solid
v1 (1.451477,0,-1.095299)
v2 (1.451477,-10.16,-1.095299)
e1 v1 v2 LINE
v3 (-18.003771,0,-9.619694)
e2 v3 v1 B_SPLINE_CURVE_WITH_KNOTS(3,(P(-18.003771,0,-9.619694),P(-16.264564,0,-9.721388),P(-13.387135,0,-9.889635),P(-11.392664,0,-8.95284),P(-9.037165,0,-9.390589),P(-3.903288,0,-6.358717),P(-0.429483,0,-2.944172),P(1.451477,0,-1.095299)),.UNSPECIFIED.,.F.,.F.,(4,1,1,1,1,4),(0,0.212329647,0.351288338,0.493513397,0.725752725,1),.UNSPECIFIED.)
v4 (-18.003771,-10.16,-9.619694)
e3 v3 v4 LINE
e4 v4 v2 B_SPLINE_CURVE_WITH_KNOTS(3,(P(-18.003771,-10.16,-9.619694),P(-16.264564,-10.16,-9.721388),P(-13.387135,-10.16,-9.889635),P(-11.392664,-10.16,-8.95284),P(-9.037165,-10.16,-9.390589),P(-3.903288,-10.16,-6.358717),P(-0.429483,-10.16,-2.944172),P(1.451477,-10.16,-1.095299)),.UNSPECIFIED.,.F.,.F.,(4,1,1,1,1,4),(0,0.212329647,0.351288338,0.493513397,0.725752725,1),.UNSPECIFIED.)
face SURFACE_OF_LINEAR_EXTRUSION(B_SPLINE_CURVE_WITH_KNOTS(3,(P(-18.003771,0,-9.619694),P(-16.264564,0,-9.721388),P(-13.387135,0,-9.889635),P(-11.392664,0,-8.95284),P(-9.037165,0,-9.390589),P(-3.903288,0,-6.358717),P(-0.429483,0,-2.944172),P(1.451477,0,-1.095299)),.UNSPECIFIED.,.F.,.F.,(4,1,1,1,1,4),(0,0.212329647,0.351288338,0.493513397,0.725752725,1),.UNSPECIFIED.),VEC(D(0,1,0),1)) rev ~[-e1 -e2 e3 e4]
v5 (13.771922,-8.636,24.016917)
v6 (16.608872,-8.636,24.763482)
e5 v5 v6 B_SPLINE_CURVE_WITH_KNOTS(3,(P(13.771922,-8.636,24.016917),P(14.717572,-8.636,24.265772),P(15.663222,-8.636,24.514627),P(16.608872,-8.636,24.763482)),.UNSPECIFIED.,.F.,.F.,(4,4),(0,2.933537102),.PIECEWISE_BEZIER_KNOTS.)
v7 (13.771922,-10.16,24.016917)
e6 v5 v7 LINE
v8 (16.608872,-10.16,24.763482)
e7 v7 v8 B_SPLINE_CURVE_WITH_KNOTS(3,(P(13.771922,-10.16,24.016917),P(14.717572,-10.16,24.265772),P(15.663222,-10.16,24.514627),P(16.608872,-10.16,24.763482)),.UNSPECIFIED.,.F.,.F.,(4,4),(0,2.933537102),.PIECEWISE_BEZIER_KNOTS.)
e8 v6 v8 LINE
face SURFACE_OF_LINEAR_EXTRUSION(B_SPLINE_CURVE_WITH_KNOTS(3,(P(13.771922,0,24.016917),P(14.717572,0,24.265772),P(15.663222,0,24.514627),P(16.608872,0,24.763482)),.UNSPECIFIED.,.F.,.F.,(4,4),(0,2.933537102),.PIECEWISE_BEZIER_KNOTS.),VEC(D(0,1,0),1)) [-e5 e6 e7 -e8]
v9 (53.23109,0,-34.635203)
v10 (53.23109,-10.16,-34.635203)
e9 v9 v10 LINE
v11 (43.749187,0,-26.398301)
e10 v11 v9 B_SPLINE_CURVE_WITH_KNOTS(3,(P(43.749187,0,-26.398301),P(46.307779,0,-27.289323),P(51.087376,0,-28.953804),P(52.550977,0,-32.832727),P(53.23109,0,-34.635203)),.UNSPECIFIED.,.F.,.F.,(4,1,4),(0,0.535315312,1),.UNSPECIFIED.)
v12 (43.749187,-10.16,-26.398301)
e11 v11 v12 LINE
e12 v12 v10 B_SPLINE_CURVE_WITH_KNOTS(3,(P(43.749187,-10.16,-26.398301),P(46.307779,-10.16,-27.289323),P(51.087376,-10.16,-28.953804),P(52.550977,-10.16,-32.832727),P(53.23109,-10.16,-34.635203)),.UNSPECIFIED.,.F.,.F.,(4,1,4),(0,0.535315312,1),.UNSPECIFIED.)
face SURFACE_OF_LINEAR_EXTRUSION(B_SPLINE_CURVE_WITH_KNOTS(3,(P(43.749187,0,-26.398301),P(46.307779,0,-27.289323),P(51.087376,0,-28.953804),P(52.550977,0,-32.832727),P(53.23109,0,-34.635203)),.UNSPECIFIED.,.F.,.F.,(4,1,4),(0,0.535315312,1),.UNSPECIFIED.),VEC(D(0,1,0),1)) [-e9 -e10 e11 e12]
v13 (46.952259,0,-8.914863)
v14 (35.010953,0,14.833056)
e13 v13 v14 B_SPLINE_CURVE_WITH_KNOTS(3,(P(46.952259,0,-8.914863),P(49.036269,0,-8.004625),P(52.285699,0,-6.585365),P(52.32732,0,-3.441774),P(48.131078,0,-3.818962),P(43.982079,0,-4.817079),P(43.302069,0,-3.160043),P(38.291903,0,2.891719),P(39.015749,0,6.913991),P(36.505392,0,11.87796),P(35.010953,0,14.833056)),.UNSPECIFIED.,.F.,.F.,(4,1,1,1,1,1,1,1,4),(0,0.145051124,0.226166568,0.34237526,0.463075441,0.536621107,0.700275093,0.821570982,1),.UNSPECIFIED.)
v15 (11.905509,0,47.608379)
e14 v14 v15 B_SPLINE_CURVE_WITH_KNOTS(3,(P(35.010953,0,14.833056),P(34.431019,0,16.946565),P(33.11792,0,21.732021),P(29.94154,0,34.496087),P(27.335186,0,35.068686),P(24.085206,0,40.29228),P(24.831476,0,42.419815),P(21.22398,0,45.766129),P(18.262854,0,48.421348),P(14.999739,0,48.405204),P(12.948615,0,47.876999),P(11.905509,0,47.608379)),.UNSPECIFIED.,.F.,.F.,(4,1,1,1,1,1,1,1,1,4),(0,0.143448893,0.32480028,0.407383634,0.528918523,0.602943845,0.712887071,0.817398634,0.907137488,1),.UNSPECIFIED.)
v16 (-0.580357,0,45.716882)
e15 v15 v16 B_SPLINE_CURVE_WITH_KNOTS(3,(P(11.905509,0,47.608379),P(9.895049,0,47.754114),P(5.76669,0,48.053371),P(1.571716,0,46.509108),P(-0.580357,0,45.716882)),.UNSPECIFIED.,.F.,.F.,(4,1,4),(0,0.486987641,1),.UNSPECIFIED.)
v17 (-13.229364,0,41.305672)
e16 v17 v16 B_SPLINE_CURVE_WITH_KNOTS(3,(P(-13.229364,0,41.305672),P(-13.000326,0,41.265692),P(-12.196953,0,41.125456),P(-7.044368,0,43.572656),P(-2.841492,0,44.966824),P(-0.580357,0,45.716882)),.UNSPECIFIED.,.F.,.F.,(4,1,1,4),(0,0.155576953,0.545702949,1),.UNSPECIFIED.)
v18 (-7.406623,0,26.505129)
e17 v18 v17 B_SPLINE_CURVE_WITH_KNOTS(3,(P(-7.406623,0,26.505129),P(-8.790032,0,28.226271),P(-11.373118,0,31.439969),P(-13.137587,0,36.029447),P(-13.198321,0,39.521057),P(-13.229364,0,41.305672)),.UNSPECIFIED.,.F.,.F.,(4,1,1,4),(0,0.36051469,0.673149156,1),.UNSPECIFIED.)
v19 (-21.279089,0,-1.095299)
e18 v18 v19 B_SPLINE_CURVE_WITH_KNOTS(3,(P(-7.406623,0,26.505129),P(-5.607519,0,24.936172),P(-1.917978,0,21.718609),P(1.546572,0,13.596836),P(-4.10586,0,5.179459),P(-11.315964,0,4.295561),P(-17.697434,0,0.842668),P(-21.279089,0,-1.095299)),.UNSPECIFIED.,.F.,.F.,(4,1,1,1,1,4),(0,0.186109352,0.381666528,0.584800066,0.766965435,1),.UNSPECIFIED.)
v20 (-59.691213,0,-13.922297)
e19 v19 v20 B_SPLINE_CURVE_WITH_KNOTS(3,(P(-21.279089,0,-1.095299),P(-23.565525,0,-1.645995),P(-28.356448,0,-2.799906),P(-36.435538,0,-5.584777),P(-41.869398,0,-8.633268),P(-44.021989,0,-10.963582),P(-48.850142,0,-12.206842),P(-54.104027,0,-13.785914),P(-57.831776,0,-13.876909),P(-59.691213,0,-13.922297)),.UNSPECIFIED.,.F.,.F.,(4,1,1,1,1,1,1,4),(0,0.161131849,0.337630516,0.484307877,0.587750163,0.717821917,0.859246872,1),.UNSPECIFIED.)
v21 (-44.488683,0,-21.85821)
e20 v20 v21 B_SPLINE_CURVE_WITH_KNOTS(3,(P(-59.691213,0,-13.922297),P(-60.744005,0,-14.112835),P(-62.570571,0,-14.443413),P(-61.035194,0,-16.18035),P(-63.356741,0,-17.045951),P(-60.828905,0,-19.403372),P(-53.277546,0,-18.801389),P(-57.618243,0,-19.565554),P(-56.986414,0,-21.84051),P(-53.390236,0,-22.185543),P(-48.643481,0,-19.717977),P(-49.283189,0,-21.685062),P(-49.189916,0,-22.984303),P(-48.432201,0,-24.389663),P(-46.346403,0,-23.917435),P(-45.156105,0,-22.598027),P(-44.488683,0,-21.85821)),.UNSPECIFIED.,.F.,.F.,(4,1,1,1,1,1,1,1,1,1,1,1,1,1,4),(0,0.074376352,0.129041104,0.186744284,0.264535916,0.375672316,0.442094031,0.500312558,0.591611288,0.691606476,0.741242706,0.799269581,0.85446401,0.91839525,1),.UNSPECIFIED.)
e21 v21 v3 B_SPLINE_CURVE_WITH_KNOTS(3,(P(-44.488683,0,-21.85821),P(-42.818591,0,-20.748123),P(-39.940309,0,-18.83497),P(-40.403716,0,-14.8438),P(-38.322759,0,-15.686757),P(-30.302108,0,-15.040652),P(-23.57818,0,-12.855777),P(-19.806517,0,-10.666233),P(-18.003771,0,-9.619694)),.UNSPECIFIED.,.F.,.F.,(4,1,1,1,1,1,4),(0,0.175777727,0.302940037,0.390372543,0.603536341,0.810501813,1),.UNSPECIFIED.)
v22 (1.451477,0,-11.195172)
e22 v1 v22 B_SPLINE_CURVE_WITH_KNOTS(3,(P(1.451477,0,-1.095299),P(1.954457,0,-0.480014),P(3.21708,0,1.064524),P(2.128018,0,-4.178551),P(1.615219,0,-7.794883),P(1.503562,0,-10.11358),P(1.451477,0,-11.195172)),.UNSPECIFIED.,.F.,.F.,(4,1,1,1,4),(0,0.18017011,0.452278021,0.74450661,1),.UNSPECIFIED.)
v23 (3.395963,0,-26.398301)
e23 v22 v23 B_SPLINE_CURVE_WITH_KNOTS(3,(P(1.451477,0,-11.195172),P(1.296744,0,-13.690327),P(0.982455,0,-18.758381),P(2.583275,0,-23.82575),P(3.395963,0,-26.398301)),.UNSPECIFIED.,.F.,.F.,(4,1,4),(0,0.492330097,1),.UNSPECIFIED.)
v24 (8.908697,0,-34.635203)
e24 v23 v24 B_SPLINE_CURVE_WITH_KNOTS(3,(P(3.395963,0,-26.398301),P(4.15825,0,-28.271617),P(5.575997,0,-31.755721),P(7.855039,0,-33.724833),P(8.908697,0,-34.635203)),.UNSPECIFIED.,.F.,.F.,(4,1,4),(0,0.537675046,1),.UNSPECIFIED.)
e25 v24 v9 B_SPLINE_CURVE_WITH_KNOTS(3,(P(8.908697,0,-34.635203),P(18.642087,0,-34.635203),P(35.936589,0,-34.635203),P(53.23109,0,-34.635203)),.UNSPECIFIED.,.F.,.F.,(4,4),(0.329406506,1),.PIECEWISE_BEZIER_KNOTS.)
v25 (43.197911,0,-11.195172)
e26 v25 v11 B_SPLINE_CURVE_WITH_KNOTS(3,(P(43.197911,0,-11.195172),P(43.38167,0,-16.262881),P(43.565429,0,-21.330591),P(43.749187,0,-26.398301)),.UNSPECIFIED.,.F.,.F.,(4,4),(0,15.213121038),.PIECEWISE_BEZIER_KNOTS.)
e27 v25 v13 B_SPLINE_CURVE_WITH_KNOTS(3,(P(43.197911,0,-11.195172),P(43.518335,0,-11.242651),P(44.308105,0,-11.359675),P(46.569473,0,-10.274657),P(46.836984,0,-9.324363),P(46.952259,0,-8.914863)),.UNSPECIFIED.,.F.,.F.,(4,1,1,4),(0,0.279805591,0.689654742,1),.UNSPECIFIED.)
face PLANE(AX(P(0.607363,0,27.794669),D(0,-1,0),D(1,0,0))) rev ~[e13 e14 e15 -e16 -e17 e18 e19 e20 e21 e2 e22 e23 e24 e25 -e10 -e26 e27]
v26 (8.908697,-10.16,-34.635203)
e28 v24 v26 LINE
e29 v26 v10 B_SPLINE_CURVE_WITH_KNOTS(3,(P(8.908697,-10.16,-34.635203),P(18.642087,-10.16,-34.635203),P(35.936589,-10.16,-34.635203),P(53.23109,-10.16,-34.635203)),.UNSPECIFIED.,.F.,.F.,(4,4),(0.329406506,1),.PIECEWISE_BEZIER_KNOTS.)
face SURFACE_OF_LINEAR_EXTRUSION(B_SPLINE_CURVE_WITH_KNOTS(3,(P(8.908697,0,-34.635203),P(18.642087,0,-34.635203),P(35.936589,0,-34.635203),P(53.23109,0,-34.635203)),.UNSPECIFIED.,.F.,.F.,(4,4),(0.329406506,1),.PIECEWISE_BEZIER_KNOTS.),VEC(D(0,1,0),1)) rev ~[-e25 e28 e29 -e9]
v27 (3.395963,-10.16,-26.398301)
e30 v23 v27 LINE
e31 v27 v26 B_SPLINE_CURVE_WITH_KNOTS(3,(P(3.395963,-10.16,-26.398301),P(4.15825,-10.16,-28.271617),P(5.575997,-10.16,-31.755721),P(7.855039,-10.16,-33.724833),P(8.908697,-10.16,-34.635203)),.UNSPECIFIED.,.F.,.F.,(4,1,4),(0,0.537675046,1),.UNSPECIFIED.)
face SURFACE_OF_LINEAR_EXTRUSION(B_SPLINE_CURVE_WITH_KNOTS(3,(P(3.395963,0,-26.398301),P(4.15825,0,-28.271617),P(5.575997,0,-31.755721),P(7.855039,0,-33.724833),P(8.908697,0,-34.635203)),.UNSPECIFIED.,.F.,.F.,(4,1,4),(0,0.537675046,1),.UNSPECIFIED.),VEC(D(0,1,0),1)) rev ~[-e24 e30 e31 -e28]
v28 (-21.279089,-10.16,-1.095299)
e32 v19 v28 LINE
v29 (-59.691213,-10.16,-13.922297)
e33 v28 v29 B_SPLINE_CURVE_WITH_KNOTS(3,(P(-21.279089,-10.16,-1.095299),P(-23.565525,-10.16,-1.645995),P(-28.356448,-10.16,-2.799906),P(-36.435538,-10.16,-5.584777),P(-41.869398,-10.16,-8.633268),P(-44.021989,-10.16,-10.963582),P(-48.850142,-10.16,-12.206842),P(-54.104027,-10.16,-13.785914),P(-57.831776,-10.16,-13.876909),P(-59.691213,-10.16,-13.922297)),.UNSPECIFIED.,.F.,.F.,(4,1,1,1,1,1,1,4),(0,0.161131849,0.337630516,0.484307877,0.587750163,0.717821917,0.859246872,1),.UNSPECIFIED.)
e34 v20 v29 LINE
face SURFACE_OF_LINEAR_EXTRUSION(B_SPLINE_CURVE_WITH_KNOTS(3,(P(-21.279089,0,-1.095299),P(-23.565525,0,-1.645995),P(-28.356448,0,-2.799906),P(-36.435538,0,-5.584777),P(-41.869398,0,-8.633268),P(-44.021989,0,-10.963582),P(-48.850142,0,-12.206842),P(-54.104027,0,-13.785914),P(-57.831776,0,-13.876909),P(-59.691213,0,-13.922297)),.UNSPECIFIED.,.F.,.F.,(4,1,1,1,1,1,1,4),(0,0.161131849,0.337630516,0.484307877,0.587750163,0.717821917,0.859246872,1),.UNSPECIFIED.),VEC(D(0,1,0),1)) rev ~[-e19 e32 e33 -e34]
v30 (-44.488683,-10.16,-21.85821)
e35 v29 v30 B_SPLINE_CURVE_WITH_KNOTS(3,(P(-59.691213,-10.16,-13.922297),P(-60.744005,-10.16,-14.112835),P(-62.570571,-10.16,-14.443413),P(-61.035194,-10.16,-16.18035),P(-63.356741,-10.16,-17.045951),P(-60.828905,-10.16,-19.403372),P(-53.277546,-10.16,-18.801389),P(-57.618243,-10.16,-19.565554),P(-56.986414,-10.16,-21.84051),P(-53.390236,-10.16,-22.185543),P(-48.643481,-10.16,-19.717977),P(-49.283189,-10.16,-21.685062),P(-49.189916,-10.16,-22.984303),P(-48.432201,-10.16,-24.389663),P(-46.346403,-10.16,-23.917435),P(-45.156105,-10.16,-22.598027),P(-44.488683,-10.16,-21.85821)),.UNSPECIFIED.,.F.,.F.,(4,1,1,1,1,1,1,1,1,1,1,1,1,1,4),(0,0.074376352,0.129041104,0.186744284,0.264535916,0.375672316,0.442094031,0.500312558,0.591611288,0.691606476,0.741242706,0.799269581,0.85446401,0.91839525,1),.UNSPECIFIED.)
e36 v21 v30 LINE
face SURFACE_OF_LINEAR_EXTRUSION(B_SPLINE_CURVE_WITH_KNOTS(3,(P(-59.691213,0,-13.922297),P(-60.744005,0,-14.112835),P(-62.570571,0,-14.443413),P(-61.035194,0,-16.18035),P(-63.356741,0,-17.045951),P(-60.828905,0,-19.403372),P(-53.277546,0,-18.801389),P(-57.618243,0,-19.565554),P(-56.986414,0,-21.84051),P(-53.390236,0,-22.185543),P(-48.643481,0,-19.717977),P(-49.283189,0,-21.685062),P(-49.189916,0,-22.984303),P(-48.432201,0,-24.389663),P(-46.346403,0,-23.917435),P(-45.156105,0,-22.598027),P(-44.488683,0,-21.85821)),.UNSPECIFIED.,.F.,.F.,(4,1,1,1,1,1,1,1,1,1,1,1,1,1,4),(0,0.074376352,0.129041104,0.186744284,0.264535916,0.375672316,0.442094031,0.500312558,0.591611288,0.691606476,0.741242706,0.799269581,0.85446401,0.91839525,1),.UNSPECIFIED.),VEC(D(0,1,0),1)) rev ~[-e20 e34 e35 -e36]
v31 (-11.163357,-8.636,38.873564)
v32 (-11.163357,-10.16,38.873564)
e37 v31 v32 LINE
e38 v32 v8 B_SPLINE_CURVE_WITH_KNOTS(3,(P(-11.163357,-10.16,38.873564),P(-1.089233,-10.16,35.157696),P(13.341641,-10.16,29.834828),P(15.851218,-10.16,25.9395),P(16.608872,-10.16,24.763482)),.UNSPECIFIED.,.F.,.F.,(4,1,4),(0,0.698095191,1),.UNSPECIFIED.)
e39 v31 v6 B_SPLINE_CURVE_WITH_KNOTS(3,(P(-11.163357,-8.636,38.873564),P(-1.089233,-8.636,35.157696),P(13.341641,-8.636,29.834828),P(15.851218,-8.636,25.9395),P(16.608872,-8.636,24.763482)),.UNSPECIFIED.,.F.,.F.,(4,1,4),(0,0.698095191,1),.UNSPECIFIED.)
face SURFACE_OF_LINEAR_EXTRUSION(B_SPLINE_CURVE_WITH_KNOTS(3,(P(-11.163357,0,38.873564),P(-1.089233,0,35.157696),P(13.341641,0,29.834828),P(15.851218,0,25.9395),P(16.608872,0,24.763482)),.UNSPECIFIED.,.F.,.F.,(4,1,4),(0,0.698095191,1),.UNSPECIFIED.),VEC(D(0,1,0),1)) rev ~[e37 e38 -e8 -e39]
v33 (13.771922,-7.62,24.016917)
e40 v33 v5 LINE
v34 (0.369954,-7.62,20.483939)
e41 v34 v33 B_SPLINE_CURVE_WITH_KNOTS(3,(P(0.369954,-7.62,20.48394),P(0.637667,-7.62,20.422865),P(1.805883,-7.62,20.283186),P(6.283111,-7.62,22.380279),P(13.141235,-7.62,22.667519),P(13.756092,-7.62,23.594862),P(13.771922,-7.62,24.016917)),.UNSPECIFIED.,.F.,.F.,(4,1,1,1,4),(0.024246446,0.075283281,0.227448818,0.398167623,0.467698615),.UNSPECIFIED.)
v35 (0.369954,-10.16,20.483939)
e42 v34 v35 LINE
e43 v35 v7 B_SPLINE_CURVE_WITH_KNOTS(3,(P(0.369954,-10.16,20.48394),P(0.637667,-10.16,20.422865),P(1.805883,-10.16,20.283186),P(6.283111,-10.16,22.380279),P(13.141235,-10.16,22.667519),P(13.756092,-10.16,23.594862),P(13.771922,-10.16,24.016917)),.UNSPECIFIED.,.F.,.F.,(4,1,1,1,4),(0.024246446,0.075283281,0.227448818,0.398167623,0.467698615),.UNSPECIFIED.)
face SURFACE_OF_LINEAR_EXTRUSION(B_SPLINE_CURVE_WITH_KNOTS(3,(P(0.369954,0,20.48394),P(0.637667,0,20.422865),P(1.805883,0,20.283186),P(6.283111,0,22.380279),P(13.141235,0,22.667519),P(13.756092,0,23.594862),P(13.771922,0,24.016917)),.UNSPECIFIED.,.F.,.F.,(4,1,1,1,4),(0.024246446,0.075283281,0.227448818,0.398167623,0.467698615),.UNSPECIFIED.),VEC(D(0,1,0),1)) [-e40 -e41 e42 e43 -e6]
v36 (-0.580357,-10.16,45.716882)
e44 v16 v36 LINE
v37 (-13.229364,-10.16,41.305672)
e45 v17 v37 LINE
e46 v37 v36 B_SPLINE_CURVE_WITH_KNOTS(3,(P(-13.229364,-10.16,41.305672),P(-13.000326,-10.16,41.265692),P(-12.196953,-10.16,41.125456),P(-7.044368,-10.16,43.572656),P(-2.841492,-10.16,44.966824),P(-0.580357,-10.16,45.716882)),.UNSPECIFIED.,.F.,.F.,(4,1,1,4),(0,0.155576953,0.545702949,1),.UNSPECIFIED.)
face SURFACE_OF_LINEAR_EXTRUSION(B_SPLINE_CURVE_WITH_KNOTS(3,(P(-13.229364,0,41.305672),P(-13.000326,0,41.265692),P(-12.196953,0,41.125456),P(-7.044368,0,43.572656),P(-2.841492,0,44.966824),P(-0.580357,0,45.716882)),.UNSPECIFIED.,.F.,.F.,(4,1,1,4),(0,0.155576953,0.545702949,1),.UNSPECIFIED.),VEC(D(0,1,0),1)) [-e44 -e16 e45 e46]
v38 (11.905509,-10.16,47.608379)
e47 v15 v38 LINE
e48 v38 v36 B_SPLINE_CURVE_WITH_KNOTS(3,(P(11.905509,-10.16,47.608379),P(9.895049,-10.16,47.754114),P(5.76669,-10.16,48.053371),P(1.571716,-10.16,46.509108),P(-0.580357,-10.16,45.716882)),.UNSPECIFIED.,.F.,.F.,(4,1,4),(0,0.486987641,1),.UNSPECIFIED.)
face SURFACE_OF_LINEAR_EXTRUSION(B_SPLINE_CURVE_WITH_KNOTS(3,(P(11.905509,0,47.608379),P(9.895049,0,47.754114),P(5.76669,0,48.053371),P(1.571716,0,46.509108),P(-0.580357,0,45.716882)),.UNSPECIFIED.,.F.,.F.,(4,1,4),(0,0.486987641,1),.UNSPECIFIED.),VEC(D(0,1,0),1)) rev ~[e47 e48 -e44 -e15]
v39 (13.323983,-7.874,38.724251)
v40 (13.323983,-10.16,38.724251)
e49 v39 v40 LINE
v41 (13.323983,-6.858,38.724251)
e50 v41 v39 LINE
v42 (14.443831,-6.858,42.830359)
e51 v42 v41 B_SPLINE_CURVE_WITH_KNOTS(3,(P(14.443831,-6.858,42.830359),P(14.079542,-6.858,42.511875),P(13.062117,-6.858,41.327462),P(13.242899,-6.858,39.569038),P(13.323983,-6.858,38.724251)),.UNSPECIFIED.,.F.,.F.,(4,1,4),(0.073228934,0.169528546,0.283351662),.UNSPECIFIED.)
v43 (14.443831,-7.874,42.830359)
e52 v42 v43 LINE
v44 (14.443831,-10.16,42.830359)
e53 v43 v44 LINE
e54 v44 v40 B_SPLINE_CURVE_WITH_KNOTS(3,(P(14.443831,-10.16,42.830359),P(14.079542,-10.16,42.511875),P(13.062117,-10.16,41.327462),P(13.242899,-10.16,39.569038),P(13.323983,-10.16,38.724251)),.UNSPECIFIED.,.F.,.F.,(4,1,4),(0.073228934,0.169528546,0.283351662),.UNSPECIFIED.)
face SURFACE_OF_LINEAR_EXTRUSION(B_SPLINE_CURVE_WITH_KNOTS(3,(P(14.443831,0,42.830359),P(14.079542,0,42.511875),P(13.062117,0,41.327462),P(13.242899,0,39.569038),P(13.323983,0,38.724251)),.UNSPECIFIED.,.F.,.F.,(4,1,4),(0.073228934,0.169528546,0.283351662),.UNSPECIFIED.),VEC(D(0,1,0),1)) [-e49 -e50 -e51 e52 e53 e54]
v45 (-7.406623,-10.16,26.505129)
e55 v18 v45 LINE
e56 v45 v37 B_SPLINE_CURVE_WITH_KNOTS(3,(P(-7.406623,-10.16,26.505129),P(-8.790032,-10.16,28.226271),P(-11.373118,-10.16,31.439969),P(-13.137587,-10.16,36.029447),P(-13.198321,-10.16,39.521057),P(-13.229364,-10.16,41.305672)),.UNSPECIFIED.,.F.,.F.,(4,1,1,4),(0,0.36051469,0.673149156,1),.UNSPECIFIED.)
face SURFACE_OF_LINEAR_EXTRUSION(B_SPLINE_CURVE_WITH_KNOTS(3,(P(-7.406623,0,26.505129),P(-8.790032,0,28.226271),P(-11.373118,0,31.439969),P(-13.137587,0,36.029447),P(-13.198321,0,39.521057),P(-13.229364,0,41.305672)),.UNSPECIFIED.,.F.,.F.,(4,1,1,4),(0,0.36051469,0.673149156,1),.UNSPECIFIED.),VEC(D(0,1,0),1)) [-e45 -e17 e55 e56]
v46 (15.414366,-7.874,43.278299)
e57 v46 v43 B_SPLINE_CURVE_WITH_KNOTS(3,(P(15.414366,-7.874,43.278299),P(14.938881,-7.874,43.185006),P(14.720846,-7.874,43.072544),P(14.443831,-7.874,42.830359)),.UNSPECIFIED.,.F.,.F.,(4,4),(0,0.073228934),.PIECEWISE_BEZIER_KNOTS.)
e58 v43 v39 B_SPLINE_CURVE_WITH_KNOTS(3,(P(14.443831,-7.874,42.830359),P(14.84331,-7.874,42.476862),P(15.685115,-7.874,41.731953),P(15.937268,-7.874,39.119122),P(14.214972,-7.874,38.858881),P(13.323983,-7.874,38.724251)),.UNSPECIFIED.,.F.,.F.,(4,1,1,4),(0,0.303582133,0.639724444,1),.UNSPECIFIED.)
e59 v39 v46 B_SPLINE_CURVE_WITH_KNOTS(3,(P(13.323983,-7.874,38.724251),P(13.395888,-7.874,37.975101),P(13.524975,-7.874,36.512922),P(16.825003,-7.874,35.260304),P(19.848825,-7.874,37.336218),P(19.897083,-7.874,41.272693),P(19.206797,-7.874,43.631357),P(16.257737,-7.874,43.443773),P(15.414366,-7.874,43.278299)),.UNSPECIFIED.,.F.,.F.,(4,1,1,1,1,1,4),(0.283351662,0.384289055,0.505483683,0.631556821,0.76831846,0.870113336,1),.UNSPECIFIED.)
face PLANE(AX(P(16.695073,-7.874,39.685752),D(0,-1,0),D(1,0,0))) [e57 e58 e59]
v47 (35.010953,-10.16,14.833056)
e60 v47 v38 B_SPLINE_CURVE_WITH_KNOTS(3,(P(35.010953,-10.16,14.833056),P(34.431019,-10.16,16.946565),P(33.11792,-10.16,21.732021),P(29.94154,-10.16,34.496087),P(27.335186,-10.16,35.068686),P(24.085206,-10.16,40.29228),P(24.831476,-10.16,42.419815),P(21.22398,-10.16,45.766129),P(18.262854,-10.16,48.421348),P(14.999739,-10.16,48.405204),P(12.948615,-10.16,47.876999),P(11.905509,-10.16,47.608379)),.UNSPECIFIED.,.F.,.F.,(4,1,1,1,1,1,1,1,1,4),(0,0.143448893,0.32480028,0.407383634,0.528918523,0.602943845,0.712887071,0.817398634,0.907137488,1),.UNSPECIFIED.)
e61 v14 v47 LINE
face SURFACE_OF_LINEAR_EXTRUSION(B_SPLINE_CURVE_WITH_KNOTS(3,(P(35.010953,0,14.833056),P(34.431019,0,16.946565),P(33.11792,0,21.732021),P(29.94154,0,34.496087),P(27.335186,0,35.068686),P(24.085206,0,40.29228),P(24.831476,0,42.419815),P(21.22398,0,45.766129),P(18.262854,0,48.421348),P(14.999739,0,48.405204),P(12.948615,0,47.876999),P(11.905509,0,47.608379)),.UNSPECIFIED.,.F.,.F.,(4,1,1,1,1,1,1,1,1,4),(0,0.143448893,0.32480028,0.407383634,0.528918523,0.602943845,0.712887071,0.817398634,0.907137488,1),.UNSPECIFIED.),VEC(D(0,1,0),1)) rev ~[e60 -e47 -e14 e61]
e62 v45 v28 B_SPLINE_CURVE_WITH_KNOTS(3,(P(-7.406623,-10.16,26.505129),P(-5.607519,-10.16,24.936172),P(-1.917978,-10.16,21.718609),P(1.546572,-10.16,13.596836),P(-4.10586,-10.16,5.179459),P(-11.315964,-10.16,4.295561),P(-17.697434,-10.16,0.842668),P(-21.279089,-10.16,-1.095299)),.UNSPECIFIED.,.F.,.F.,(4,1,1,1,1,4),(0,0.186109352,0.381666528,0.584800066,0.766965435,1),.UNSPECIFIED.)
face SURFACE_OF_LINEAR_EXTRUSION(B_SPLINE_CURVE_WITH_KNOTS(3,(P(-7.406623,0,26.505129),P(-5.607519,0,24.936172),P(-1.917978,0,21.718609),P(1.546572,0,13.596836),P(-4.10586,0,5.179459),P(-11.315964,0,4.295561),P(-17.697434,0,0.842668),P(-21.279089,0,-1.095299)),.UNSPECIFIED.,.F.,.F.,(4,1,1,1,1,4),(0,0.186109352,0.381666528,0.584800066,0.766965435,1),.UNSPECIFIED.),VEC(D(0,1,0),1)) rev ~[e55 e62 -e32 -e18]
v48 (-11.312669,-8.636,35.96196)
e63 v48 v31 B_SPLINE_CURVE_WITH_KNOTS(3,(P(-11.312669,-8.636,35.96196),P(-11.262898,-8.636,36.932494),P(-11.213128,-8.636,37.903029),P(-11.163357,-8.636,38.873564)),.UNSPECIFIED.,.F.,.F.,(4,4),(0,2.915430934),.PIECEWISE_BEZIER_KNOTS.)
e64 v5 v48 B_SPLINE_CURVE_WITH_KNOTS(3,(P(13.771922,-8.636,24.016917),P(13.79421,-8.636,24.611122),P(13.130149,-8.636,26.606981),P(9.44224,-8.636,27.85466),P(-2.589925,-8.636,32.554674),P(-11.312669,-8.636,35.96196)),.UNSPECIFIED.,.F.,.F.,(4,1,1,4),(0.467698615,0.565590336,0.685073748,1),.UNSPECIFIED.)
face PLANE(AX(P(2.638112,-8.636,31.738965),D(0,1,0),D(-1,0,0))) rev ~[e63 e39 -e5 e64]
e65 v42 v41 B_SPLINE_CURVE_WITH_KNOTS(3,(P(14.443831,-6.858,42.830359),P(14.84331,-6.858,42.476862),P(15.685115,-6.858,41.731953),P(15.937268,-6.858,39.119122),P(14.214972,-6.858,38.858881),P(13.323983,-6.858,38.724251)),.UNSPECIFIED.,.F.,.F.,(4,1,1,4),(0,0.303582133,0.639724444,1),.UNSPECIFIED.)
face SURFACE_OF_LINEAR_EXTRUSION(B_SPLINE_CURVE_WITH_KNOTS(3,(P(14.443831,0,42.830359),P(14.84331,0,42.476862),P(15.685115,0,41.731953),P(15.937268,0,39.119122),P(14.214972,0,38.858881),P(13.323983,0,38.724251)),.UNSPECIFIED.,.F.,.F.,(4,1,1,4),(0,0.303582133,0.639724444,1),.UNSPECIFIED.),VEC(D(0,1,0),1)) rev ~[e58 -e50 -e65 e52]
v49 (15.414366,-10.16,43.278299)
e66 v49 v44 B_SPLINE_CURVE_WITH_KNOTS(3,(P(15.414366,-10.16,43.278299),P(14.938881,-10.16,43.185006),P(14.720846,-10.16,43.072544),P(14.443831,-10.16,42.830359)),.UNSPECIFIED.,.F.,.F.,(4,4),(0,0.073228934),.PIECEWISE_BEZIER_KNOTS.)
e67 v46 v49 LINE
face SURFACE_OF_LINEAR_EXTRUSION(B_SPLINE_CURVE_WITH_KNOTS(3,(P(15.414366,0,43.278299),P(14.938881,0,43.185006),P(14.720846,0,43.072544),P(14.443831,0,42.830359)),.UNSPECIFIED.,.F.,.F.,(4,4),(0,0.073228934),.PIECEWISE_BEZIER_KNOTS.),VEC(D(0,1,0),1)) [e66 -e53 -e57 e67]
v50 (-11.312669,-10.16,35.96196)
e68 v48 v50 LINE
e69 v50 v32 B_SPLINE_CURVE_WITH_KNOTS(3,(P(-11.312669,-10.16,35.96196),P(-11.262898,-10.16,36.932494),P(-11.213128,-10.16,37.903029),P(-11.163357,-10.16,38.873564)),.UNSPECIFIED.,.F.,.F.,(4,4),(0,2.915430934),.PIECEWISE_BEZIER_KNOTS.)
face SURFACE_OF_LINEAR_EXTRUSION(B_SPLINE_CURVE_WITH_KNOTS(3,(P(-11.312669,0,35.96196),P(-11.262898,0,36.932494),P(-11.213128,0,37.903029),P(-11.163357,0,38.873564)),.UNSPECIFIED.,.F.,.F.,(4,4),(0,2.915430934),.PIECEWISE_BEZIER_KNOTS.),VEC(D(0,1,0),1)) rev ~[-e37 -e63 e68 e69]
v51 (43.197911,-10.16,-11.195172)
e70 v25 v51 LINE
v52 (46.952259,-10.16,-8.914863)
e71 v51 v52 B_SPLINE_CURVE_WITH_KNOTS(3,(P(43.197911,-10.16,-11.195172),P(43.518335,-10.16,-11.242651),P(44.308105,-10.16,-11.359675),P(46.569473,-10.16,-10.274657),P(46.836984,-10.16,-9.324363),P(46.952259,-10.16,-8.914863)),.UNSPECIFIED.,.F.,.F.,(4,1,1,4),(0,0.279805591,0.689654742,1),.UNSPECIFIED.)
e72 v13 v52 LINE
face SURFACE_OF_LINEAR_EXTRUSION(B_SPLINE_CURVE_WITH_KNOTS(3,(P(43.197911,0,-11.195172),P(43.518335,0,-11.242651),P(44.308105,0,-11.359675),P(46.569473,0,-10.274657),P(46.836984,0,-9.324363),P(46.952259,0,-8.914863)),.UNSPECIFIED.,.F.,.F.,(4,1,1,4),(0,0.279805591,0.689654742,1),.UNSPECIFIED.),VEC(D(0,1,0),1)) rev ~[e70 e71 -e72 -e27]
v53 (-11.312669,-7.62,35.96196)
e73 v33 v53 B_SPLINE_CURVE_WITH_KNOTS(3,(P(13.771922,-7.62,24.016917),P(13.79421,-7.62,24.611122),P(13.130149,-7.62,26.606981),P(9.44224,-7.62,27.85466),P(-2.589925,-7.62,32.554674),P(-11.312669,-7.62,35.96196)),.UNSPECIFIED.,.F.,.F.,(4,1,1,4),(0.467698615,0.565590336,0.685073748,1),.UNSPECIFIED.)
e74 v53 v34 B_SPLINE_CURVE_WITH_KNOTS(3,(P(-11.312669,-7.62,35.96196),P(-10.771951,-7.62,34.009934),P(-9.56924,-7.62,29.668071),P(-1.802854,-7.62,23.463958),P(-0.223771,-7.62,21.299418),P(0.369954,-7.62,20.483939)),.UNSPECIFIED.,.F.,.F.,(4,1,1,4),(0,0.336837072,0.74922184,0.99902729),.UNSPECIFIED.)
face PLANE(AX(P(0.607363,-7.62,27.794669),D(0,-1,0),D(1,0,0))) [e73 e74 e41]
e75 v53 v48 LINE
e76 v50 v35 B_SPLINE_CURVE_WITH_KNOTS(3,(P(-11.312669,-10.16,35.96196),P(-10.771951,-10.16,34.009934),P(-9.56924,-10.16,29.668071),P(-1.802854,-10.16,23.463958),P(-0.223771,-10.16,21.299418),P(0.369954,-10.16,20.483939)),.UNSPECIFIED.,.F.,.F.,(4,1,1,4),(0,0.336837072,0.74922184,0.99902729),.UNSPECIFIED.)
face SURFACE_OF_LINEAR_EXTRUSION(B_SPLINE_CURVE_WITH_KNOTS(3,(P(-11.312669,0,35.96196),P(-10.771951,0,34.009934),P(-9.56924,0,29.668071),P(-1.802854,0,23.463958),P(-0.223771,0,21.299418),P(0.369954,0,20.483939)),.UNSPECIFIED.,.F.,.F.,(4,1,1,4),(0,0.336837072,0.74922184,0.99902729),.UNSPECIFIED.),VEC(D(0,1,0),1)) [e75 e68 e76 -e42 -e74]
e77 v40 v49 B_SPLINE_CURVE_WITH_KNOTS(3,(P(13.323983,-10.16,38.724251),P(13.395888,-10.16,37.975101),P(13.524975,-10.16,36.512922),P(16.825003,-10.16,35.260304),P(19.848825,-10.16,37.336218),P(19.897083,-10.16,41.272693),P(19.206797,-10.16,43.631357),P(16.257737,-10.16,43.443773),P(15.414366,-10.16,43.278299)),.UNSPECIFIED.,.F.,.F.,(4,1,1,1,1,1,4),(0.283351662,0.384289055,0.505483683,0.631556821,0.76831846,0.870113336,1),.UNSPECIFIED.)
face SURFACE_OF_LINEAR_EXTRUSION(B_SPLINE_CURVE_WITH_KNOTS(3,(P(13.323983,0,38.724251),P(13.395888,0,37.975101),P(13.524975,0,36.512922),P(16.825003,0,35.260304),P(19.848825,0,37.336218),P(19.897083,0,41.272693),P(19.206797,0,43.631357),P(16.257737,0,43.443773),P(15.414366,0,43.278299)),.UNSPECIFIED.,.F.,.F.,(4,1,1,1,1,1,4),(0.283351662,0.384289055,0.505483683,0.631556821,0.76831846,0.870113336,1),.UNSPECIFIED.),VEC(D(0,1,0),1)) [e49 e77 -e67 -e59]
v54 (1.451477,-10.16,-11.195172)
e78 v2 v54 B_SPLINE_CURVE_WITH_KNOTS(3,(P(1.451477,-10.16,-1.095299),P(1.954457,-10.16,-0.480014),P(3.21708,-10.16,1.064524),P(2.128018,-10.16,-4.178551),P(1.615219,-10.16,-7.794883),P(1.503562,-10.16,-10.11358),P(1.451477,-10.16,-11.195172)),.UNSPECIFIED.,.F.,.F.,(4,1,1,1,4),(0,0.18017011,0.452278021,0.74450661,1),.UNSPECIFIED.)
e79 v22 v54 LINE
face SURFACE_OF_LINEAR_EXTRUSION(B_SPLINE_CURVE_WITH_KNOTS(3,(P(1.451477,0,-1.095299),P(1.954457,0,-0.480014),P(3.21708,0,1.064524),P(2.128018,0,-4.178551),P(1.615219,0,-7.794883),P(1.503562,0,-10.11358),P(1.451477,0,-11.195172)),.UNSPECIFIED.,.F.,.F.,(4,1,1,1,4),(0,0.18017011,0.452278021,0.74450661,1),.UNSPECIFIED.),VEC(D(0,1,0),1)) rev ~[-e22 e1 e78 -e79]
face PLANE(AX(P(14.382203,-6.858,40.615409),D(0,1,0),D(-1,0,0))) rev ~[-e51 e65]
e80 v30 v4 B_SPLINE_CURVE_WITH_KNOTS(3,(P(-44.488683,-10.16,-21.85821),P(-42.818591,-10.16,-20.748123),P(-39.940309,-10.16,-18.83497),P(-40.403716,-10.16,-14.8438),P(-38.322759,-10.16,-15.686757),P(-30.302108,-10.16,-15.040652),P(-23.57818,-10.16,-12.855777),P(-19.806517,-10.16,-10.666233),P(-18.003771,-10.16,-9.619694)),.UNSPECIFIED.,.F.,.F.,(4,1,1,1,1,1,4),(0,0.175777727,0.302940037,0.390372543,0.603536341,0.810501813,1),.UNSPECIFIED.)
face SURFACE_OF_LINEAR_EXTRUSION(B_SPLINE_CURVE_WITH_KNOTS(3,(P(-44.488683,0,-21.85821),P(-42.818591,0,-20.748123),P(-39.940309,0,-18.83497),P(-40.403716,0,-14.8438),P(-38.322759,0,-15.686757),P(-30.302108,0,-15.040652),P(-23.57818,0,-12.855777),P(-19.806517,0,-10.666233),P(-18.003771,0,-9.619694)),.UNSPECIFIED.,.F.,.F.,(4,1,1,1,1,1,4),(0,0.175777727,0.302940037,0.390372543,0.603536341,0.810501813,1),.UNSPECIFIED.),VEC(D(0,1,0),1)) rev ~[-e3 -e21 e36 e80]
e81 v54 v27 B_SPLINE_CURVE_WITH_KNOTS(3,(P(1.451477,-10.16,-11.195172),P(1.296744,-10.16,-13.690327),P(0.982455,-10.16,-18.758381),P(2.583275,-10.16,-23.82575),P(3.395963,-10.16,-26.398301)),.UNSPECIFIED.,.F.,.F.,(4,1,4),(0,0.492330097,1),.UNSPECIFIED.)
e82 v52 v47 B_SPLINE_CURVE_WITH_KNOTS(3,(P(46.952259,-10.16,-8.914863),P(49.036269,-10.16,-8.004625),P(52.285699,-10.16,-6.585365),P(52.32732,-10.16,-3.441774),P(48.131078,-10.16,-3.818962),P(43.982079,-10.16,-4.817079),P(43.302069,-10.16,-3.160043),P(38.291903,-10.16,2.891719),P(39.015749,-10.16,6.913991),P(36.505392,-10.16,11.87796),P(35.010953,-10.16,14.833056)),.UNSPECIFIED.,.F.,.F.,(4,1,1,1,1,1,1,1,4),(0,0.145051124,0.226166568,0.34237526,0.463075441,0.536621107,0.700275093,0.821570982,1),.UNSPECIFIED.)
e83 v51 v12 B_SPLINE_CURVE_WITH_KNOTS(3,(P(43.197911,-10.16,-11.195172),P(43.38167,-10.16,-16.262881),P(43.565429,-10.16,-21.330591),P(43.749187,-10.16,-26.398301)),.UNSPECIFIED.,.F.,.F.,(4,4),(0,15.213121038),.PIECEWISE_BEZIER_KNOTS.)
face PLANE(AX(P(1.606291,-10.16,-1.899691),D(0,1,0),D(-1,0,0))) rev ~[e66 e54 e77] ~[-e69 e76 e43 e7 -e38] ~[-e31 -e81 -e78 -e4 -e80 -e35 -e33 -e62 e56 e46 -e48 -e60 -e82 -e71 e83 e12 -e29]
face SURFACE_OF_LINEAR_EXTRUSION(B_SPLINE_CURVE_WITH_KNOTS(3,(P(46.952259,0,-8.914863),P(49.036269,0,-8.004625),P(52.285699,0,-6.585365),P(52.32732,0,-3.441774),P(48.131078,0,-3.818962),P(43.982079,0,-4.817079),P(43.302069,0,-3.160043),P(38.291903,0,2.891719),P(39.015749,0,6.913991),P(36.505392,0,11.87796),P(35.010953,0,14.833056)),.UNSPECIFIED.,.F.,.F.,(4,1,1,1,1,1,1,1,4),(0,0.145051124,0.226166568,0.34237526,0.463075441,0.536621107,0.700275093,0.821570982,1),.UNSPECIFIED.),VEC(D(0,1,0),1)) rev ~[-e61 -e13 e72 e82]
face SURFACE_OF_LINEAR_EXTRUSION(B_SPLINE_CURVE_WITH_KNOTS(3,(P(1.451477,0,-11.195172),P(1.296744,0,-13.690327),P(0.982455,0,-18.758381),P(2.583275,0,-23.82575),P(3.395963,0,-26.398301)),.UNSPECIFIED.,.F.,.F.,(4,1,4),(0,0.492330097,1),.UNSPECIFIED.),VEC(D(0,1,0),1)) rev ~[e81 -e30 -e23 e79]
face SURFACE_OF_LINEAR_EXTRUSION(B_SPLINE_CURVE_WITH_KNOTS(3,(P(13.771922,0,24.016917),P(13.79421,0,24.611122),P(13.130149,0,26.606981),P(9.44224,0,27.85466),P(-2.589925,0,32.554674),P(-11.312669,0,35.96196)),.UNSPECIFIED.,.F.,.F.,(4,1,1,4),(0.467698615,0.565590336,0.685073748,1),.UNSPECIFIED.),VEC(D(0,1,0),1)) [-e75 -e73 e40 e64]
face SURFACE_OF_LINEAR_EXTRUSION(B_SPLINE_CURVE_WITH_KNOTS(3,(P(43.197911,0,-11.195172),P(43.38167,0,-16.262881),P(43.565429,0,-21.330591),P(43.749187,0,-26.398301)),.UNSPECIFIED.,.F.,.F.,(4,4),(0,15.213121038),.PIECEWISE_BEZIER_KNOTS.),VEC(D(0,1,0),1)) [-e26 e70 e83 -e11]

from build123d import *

# Parameters (mm, degrees)
F1_DEPTH = 10.16
F2_DEPTH = 7.874
F3_DEPTH = 6.858
F4_DEPTH = 7.62
F5_DEPTH = 8.636


with BuildPart() as f1:
    # F0 (on Front) → F1 (new body)
    with BuildSketch(Plane.XZ):
        with BuildLine():
            add(Edge.make_bspline(
                [(-7.4066231027, 26.5051294118), (-8.7900320216, 28.2262713918), (-11.3731182901, 31.4399692029), (-13.1375874525, 36.029446791), (-13.1983214906, 39.5210565578), (-13.2293635979, 41.3056723773)],
                knots=[0, 0, 0, 0, 0.3605146901, 0.6731491557, 1, 1, 1, 1], degree=3))
            add(Edge.make_bspline(
                [(-7.4066231027, 26.5051294118), (-5.6075185724, 24.9361719801), (-1.9179781437, 21.7186091439), (1.5465723362, 13.5968357464), (-4.1058604713, 5.1794589449), (-11.3159638541, 4.2955612312), (-17.697433793, 0.8426675206), (-21.2790891528, -1.0952990269)],
                knots=[0, 0, 0, 0, 0.1861093524, 0.381666528, 0.5848000662, 0.7669654355, 1, 1, 1, 1], degree=3))
            add(Edge.make_bspline(
                [(-21.2790891528, -1.0952990269), (-23.56552454, -1.6459951335), (-28.3564480252, -2.7999061185), (-36.4355382049, -5.5847773925), (-41.8693983392, -8.6332684298), (-44.0219888527, -10.9635819575), (-48.8501418421, -12.2068418697), (-54.1040270814, -13.7859140865), (-57.8317761657, -13.8769085079), (-59.6912130713, -13.9222973958)],
                knots=[0, 0, 0, 0, 0.1611318491, 0.3376305161, 0.4843078766, 0.5877501634, 0.7178219166, 0.8592468725, 1, 1, 1, 1], degree=3))
            add(Edge.make_bspline(
                [(-59.6912130713, -13.9222973958), (-60.7440045437, -14.1128348389), (-62.5705713103, -14.443412518), (-61.0351938244, -16.1803503583), (-63.3567414056, -17.0459505577), (-60.8289053963, -19.4033723602), (-53.2775461629, -18.801388512), (-57.6182429762, -19.5655543328), (-56.9864136913, -21.8405097239), (-53.39023608, -22.185542869), (-48.6434810455, -19.7179768531), (-49.2831889461, -21.6850615609), (-49.1899155711, -22.984303007), (-48.4322009301, -24.3896626493), (-46.346403078, -23.917435153), (-45.1561054659, -22.5980267187), (-44.4886833429, -21.8582097441)],
                knots=[0, 0, 0, 0, 0.0743763524, 0.1290411037, 0.1867442843, 0.2645359159, 0.3756723159, 0.442094031, 0.5003125582, 0.5916112881, 0.6916064757, 0.7412427064, 0.7992695806, 0.8544640103, 0.9183952499, 1, 1, 1, 1], degree=3))
            add(Edge.make_bspline(
                [(-44.4886833429, -21.8582097441), (-42.8185908796, -20.7481230246), (-39.9403088495, -18.834969875), (-40.4037159365, -14.8437998715), (-38.3227594151, -15.6867573324), (-30.3021075502, -15.0406522559), (-23.578180167, -12.8557765683), (-19.806517156, -10.6662328929), (-18.0037710816, -9.6196942031)],
                knots=[0, 0, 0, 0, 0.1757777272, 0.3029400375, 0.3903725429, 0.6035363414, 0.8105018126, 1, 1, 1, 1], degree=3))
            add(Edge.make_bspline(
                [(-18.0037710816, -9.6196942031), (-16.2645635863, -9.7213879889), (-13.3871353966, -9.8896350593), (-11.392664136, -8.9528402822), (-9.037164599, -9.390589127), (-3.9032877909, -6.3587167423), (-0.4294833966, -2.944172256), (1.451477292, -1.0952990269)],
                knots=[0, 0, 0, 0, 0.2123296467, 0.3512883383, 0.4935133969, 0.7257527248, 1, 1, 1, 1], degree=3))
            add(Edge.make_bspline(
                [(1.451477292, -1.0952990269), (1.9544574994, -0.4800143818), (3.2170803204, 1.0645243951), (2.1280184601, -4.1785510677), (1.6152193832, -7.7948831694), (1.5035617311, -10.11357974), (1.451477292, -11.1951716244)],
                knots=[0, 0, 0, 0, 0.1801701104, 0.4522780214, 0.7445066101, 1, 1, 1, 1], degree=3))
            add(Edge.make_bspline(
                [(1.451477292, -11.1951716244), (1.2967436476, -13.6903270157), (0.9824552356, -18.7583807584), (2.583274678, -23.8257501816), (3.3959625289, -26.3983011246)],
                knots=[0, 0, 0, 0, 0.4923300971, 1, 1, 1, 1], degree=3))
            add(Edge.make_bspline(
                [(3.3959625289, -26.3983011246), (4.158249938, -28.2716170621), (5.5759973581, -31.7557213588), (7.8550393976, -33.7248333487), (8.908697404, -34.6352029592)],
                knots=[0, 0, 0, 0, 0.5376750459, 1, 1, 1, 1], degree=3))
            add(Edge.make_bspline(
                [(8.908697404, -34.6352029592), (18.6420871318, -34.6352029592), (35.9365887195, -34.6352029592), (53.2310903072, -34.6352029592)],
                knots=[0.3294065062, 0.3294065062, 0.3294065062, 0.3294065062, 1, 1, 1, 1], degree=3))
            add(Edge.make_bspline(
                [(43.7491871417, -26.3983011246), (46.3077787712, -27.2893232954), (51.087376092, -28.9538043057), (52.5509772564, -32.8327269837), (53.2310903072, -34.6352029592)],
                knots=[0, 0, 0, 0, 0.5353153117, 1, 1, 1, 1], degree=3))
            add(Edge.make_bspline(
                [(43.1979112327, -11.1951716244), (43.381669869, -16.2628814578), (43.5654285053, -21.3305912912), (43.7491871417, -26.3983011246)],
                knots=[0, 0, 0, 0, 15.2131210383, 15.2131210383, 15.2131210383, 15.2131210383], degree=3))
            add(Edge.make_bspline(
                [(43.1979112327, -11.1951716244), (43.5183352989, -11.2426505237), (44.3081049949, -11.3596748044), (46.5694733664, -10.2746573768), (46.8369836183, -9.3243625824), (46.9522587955, -8.9148627594)],
                knots=[0, 0, 0, 0, 0.2798055912, 0.6896547423, 1, 1, 1, 1], degree=3))
            add(Edge.make_bspline(
                [(46.9522587955, -8.9148627594), (49.0362690899, -8.0046252531), (52.2856989616, -6.5853650167), (52.3273196547, -3.441773638), (48.1310780505, -3.8189615996), (43.982079067, -4.8170793105), (43.3020687211, -3.1600426553), (38.2919028941, 2.8917188694), (39.0157491614, 6.9139910424), (36.5053916306, 11.8779597454), (35.0109525025, 14.8330563679)],
                knots=[0, 0, 0, 0, 0.145051124, 0.2261665676, 0.3423752599, 0.4630754409, 0.5366211066, 0.7002750929, 0.8215709821, 1, 1, 1, 1], degree=3))
            add(Edge.make_bspline(
                [(35.0109525025, 14.8330563679), (34.431018966, 16.946565414), (33.1179201255, 21.7320211659), (29.9415403598, 34.4960866041), (27.3351855369, 35.0686856448), (24.0852057833, 40.2922800883), (24.8314755075, 42.4198146179), (21.2239801727, 45.7661293793), (18.2628537016, 48.4213484575), (14.9997388067, 48.4052039505), (12.9486147724, 47.8769993985), (11.9055090472, 47.6083792746)],
                knots=[0, 0, 0, 0, 0.1434488931, 0.3248002804, 0.4073836337, 0.5289185231, 0.602943845, 0.712887071, 0.8173986341, 0.907137488, 1, 1, 1, 1], degree=3))
            add(Edge.make_bspline(
                [(11.9055090472, 47.6083792746), (9.8950490412, 47.7541138428), (5.766689642, 48.0533710638), (1.5717159572, 46.5091078605), (-0.5803573877, 45.716881752)],
                knots=[0, 0, 0, 0, 0.4869876413, 1, 1, 1, 1], degree=3))
            add(Edge.make_bspline(
                [(-13.2293635979, 41.3056723773), (-13.0003261937, 41.2656918014), (-12.1969527844, 41.1254556171), (-7.0443679472, 43.5726559884), (-2.8414919746, 44.9668237204), (-0.5803573877, 45.716881752)],
                knots=[0, 0, 0, 0, 0.1555769528, 0.5457029495, 1, 1, 1, 1], degree=3))
        make_face()
        with BuildLine():
            add(Edge.make_bspline(
                [(-11.3126691431, 35.961959511), (-11.2628983334, 36.9324944913), (-11.2131275237, 37.9030294716), (-11.163356714, 38.8735644519)],
                knots=[0, 0, 0, 0, 2.9154309344, 2.9154309344, 2.9154309344, 2.9154309344], degree=3))
            add(Edge.make_bspline(
                [(-11.163356714, 38.8735644519), (-1.089233107, 35.157695789), (13.3416407071, 29.8348276293), (15.8512180503, 25.9394998745), (16.6088715196, 24.7634816915)],
                knots=[0, 0, 0, 0, 0.6980951907, 1, 1, 1, 1], degree=3))
            add(Edge.make_bspline(
                [(13.7719223276, 24.0169167519), (14.7175720582, 24.2657717317), (15.6632217889, 24.5146267116), (16.6088715196, 24.7634816915)],
                knots=[0, 0, 0, 0, 2.9335371017, 2.9335371017, 2.9335371017, 2.9335371017], degree=3))
            add(Edge.make_bspline(
                [(0.3699537927, 20.4839395005), (0.6376673623, 20.4228654043), (1.8058827095, 20.2831859956), (6.2831110854, 22.3802786497), (13.1412347706, 22.6675193641), (13.7560919204, 23.5948615014), (13.7719223276, 24.0169167519)],
                knots=[0.024246446, 0.024246446, 0.024246446, 0.024246446, 0.0752832809, 0.227448818, 0.3981676234, 0.4676986154, 0.4676986154, 0.4676986154, 0.4676986154], degree=3))
            add(Edge.make_bspline(
                [(-11.3126691431, 35.961959511), (-10.7719510748, 34.0099337213), (-9.5692396748, 29.6680709133), (-1.8028542335, 23.4639579128), (-0.2237714288, 21.2994180289), (0.3699537889, 20.4839394953)],
                knots=[0, 0, 0, 0, 0.3368370717, 0.7492218401, 0.9990272904, 0.9990272904, 0.9990272904, 0.9990272904], degree=3))
        make_face(mode=Mode.SUBTRACT)
        with BuildLine():
            add(Edge.make_bspline(
                [(15.4143655673, 43.2782992721), (14.9388805203, 43.1850064794), (14.7208459665, 43.072543595), (14.443830587, 42.8303591907)],
                knots=[0, 0, 0, 0, 0.0732289345, 0.0732289345, 0.0732289345, 0.0732289345], degree=3))
            add(Edge.make_bspline(
                [(13.3239831775, 38.7242510915), (13.3958878336, 37.9751006688), (13.5249753428, 36.5129222603), (16.8250029559, 35.2603043937), (19.8488246467, 37.3362182298), (19.8970827133, 41.2726928638), (19.2067972174, 43.6313570271), (16.2577366641, 43.4437733399), (15.4143655673, 43.2782992721)],
                knots=[0.2833516622, 0.2833516622, 0.2833516622, 0.2833516622, 0.3842890552, 0.5054836834, 0.631556821, 0.7683184605, 0.8701133355, 1, 1, 1, 1], degree=3))
            add(Edge.make_bspline(
                [(14.443830587, 42.8303591907), (14.079541886, 42.5118749167), (13.0621174976, 41.3274618508), (13.2428991335, 39.5690384696), (13.3239831775, 38.7242510915)],
                knots=[0.0732289345, 0.0732289345, 0.0732289345, 0.0732289345, 0.1695285459, 0.2833516622, 0.2833516622, 0.2833516622, 0.2833516622], degree=3))
        make_face(mode=Mode.SUBTRACT)
    extrude(amount=F1_DEPTH)

    # F0 (on Front) → F2 (join)
    with BuildSketch(Plane.XZ):
        with BuildLine():
            add(Edge.make_bspline(
                [(13.3239831775, 38.7242510915), (13.3958878336, 37.9751006688), (13.5249753428, 36.5129222603), (16.8250029559, 35.2603043937), (19.8488246467, 37.3362182298), (19.8970827133, 41.2726928638), (19.2067972174, 43.6313570271), (16.2577366641, 43.4437733399), (15.4143655673, 43.2782992721)],
                knots=[0.2833516622, 0.2833516622, 0.2833516622, 0.2833516622, 0.3842890552, 0.5054836834, 0.631556821, 0.7683184605, 0.8701133355, 1, 1, 1, 1], degree=3))
            add(Edge.make_bspline(
                [(15.4143655673, 43.2782992721), (14.9388805203, 43.1850064794), (14.7208459665, 43.072543595), (14.443830587, 42.8303591907)],
                knots=[0, 0, 0, 0, 0.0732289345, 0.0732289345, 0.0732289345, 0.0732289345], degree=3))
            add(Edge.make_bspline(
                [(14.443830587, 42.8303591907), (14.8433101801, 42.4768617407), (15.6851148603, 41.7319530822), (15.9372677112, 39.1191221974), (14.2149724829, 38.8588808755), (13.3239831775, 38.7242510915)],
                knots=[0, 0, 0, 0, 0.3035821331, 0.6397244437, 1, 1, 1, 1], degree=3))
        make_face()
    extrude(amount=F2_DEPTH)

    # F0 (on Front) → F3 (join)
    with BuildSketch(Plane.XZ):
        with BuildLine():
            add(Edge.make_bspline(
                [(14.443830587, 42.8303591907), (14.8433101801, 42.4768617407), (15.6851148603, 41.7319530822), (15.9372677112, 39.1191221974), (14.2149724829, 38.8588808755), (13.3239831775, 38.7242510915)],
                knots=[0, 0, 0, 0, 0.3035821331, 0.6397244437, 1, 1, 1, 1], degree=3))
            add(Edge.make_bspline(
                [(14.443830587, 42.8303591907), (14.079541886, 42.5118749167), (13.0621174976, 41.3274618508), (13.2428991335, 39.5690384696), (13.3239831775, 38.7242510915)],
                knots=[0.0732289345, 0.0732289345, 0.0732289345, 0.0732289345, 0.1695285459, 0.2833516622, 0.2833516622, 0.2833516622, 0.2833516622], degree=3))
        make_face()
    extrude(amount=F3_DEPTH)

    # F0 (on Front) → F4 (join)
    with BuildSketch(Plane.XZ):
        with BuildLine():
            add(Edge.make_bspline(
                [(13.7719223276, 24.0169167519), (13.7942097387, 24.6111224953), (13.1301489859, 26.6069808617), (9.442240242, 27.8546596817), (-2.5899245224, 32.55467381), (-11.3126691431, 35.961959511)],
                knots=[0.4676986154, 0.4676986154, 0.4676986154, 0.4676986154, 0.5655903364, 0.6850737477, 1, 1, 1, 1], degree=3))
            add(Edge.make_bspline(
                [(-11.3126691431, 35.961959511), (-10.7719510748, 34.0099337213), (-9.5692396748, 29.6680709133), (-1.8028542335, 23.4639579128), (-0.2237714288, 21.2994180289), (0.3699537889, 20.4839394953)],
                knots=[0, 0, 0, 0, 0.3368370717, 0.7492218401, 0.9990272904, 0.9990272904, 0.9990272904, 0.9990272904], degree=3))
            add(Edge.make_bspline(
                [(0.3699537927, 20.4839395005), (0.6376673623, 20.4228654043), (1.8058827095, 20.2831859956), (6.2831110854, 22.3802786497), (13.1412347706, 22.6675193641), (13.7560919204, 23.5948615014), (13.7719223276, 24.0169167519)],
                knots=[0.024246446, 0.024246446, 0.024246446, 0.024246446, 0.0752832809, 0.227448818, 0.3981676234, 0.4676986154, 0.4676986154, 0.4676986154, 0.4676986154], degree=3))
        make_face()
    extrude(amount=F4_DEPTH)

    # F0 (on Front) → F5 (join)
    with BuildSketch(Plane.XZ):
        with BuildLine():
            add(Edge.make_bspline(
                [(-11.163356714, 38.8735644519), (-1.089233107, 35.157695789), (13.3416407071, 29.8348276293), (15.8512180503, 25.9394998745), (16.6088715196, 24.7634816915)],
                knots=[0, 0, 0, 0, 0.6980951907, 1, 1, 1, 1], degree=3))
            add(Edge.make_bspline(
                [(-11.3126691431, 35.961959511), (-11.2628983334, 36.9324944913), (-11.2131275237, 37.9030294716), (-11.163356714, 38.8735644519)],
                knots=[0, 0, 0, 0, 2.9154309344, 2.9154309344, 2.9154309344, 2.9154309344], degree=3))
            add(Edge.make_bspline(
                [(13.7719223276, 24.0169167519), (13.7942097387, 24.6111224953), (13.1301489859, 26.6069808617), (9.442240242, 27.8546596817), (-2.5899245224, 32.55467381), (-11.3126691431, 35.961959511)],
                knots=[0.4676986154, 0.4676986154, 0.4676986154, 0.4676986154, 0.5655903364, 0.6850737477, 1, 1, 1, 1], degree=3))
            add(Edge.make_bspline(
                [(13.7719223276, 24.0169167519), (14.7175720582, 24.2657717317), (15.6632217889, 24.5146267116), (16.6088715196, 24.7634816915)],
                knots=[0, 0, 0, 0, 2.9335371017, 2.9335371017, 2.9335371017, 2.9335371017], degree=3))
        make_face()
    extrude(amount=F5_DEPTH)


solid = f1.part
